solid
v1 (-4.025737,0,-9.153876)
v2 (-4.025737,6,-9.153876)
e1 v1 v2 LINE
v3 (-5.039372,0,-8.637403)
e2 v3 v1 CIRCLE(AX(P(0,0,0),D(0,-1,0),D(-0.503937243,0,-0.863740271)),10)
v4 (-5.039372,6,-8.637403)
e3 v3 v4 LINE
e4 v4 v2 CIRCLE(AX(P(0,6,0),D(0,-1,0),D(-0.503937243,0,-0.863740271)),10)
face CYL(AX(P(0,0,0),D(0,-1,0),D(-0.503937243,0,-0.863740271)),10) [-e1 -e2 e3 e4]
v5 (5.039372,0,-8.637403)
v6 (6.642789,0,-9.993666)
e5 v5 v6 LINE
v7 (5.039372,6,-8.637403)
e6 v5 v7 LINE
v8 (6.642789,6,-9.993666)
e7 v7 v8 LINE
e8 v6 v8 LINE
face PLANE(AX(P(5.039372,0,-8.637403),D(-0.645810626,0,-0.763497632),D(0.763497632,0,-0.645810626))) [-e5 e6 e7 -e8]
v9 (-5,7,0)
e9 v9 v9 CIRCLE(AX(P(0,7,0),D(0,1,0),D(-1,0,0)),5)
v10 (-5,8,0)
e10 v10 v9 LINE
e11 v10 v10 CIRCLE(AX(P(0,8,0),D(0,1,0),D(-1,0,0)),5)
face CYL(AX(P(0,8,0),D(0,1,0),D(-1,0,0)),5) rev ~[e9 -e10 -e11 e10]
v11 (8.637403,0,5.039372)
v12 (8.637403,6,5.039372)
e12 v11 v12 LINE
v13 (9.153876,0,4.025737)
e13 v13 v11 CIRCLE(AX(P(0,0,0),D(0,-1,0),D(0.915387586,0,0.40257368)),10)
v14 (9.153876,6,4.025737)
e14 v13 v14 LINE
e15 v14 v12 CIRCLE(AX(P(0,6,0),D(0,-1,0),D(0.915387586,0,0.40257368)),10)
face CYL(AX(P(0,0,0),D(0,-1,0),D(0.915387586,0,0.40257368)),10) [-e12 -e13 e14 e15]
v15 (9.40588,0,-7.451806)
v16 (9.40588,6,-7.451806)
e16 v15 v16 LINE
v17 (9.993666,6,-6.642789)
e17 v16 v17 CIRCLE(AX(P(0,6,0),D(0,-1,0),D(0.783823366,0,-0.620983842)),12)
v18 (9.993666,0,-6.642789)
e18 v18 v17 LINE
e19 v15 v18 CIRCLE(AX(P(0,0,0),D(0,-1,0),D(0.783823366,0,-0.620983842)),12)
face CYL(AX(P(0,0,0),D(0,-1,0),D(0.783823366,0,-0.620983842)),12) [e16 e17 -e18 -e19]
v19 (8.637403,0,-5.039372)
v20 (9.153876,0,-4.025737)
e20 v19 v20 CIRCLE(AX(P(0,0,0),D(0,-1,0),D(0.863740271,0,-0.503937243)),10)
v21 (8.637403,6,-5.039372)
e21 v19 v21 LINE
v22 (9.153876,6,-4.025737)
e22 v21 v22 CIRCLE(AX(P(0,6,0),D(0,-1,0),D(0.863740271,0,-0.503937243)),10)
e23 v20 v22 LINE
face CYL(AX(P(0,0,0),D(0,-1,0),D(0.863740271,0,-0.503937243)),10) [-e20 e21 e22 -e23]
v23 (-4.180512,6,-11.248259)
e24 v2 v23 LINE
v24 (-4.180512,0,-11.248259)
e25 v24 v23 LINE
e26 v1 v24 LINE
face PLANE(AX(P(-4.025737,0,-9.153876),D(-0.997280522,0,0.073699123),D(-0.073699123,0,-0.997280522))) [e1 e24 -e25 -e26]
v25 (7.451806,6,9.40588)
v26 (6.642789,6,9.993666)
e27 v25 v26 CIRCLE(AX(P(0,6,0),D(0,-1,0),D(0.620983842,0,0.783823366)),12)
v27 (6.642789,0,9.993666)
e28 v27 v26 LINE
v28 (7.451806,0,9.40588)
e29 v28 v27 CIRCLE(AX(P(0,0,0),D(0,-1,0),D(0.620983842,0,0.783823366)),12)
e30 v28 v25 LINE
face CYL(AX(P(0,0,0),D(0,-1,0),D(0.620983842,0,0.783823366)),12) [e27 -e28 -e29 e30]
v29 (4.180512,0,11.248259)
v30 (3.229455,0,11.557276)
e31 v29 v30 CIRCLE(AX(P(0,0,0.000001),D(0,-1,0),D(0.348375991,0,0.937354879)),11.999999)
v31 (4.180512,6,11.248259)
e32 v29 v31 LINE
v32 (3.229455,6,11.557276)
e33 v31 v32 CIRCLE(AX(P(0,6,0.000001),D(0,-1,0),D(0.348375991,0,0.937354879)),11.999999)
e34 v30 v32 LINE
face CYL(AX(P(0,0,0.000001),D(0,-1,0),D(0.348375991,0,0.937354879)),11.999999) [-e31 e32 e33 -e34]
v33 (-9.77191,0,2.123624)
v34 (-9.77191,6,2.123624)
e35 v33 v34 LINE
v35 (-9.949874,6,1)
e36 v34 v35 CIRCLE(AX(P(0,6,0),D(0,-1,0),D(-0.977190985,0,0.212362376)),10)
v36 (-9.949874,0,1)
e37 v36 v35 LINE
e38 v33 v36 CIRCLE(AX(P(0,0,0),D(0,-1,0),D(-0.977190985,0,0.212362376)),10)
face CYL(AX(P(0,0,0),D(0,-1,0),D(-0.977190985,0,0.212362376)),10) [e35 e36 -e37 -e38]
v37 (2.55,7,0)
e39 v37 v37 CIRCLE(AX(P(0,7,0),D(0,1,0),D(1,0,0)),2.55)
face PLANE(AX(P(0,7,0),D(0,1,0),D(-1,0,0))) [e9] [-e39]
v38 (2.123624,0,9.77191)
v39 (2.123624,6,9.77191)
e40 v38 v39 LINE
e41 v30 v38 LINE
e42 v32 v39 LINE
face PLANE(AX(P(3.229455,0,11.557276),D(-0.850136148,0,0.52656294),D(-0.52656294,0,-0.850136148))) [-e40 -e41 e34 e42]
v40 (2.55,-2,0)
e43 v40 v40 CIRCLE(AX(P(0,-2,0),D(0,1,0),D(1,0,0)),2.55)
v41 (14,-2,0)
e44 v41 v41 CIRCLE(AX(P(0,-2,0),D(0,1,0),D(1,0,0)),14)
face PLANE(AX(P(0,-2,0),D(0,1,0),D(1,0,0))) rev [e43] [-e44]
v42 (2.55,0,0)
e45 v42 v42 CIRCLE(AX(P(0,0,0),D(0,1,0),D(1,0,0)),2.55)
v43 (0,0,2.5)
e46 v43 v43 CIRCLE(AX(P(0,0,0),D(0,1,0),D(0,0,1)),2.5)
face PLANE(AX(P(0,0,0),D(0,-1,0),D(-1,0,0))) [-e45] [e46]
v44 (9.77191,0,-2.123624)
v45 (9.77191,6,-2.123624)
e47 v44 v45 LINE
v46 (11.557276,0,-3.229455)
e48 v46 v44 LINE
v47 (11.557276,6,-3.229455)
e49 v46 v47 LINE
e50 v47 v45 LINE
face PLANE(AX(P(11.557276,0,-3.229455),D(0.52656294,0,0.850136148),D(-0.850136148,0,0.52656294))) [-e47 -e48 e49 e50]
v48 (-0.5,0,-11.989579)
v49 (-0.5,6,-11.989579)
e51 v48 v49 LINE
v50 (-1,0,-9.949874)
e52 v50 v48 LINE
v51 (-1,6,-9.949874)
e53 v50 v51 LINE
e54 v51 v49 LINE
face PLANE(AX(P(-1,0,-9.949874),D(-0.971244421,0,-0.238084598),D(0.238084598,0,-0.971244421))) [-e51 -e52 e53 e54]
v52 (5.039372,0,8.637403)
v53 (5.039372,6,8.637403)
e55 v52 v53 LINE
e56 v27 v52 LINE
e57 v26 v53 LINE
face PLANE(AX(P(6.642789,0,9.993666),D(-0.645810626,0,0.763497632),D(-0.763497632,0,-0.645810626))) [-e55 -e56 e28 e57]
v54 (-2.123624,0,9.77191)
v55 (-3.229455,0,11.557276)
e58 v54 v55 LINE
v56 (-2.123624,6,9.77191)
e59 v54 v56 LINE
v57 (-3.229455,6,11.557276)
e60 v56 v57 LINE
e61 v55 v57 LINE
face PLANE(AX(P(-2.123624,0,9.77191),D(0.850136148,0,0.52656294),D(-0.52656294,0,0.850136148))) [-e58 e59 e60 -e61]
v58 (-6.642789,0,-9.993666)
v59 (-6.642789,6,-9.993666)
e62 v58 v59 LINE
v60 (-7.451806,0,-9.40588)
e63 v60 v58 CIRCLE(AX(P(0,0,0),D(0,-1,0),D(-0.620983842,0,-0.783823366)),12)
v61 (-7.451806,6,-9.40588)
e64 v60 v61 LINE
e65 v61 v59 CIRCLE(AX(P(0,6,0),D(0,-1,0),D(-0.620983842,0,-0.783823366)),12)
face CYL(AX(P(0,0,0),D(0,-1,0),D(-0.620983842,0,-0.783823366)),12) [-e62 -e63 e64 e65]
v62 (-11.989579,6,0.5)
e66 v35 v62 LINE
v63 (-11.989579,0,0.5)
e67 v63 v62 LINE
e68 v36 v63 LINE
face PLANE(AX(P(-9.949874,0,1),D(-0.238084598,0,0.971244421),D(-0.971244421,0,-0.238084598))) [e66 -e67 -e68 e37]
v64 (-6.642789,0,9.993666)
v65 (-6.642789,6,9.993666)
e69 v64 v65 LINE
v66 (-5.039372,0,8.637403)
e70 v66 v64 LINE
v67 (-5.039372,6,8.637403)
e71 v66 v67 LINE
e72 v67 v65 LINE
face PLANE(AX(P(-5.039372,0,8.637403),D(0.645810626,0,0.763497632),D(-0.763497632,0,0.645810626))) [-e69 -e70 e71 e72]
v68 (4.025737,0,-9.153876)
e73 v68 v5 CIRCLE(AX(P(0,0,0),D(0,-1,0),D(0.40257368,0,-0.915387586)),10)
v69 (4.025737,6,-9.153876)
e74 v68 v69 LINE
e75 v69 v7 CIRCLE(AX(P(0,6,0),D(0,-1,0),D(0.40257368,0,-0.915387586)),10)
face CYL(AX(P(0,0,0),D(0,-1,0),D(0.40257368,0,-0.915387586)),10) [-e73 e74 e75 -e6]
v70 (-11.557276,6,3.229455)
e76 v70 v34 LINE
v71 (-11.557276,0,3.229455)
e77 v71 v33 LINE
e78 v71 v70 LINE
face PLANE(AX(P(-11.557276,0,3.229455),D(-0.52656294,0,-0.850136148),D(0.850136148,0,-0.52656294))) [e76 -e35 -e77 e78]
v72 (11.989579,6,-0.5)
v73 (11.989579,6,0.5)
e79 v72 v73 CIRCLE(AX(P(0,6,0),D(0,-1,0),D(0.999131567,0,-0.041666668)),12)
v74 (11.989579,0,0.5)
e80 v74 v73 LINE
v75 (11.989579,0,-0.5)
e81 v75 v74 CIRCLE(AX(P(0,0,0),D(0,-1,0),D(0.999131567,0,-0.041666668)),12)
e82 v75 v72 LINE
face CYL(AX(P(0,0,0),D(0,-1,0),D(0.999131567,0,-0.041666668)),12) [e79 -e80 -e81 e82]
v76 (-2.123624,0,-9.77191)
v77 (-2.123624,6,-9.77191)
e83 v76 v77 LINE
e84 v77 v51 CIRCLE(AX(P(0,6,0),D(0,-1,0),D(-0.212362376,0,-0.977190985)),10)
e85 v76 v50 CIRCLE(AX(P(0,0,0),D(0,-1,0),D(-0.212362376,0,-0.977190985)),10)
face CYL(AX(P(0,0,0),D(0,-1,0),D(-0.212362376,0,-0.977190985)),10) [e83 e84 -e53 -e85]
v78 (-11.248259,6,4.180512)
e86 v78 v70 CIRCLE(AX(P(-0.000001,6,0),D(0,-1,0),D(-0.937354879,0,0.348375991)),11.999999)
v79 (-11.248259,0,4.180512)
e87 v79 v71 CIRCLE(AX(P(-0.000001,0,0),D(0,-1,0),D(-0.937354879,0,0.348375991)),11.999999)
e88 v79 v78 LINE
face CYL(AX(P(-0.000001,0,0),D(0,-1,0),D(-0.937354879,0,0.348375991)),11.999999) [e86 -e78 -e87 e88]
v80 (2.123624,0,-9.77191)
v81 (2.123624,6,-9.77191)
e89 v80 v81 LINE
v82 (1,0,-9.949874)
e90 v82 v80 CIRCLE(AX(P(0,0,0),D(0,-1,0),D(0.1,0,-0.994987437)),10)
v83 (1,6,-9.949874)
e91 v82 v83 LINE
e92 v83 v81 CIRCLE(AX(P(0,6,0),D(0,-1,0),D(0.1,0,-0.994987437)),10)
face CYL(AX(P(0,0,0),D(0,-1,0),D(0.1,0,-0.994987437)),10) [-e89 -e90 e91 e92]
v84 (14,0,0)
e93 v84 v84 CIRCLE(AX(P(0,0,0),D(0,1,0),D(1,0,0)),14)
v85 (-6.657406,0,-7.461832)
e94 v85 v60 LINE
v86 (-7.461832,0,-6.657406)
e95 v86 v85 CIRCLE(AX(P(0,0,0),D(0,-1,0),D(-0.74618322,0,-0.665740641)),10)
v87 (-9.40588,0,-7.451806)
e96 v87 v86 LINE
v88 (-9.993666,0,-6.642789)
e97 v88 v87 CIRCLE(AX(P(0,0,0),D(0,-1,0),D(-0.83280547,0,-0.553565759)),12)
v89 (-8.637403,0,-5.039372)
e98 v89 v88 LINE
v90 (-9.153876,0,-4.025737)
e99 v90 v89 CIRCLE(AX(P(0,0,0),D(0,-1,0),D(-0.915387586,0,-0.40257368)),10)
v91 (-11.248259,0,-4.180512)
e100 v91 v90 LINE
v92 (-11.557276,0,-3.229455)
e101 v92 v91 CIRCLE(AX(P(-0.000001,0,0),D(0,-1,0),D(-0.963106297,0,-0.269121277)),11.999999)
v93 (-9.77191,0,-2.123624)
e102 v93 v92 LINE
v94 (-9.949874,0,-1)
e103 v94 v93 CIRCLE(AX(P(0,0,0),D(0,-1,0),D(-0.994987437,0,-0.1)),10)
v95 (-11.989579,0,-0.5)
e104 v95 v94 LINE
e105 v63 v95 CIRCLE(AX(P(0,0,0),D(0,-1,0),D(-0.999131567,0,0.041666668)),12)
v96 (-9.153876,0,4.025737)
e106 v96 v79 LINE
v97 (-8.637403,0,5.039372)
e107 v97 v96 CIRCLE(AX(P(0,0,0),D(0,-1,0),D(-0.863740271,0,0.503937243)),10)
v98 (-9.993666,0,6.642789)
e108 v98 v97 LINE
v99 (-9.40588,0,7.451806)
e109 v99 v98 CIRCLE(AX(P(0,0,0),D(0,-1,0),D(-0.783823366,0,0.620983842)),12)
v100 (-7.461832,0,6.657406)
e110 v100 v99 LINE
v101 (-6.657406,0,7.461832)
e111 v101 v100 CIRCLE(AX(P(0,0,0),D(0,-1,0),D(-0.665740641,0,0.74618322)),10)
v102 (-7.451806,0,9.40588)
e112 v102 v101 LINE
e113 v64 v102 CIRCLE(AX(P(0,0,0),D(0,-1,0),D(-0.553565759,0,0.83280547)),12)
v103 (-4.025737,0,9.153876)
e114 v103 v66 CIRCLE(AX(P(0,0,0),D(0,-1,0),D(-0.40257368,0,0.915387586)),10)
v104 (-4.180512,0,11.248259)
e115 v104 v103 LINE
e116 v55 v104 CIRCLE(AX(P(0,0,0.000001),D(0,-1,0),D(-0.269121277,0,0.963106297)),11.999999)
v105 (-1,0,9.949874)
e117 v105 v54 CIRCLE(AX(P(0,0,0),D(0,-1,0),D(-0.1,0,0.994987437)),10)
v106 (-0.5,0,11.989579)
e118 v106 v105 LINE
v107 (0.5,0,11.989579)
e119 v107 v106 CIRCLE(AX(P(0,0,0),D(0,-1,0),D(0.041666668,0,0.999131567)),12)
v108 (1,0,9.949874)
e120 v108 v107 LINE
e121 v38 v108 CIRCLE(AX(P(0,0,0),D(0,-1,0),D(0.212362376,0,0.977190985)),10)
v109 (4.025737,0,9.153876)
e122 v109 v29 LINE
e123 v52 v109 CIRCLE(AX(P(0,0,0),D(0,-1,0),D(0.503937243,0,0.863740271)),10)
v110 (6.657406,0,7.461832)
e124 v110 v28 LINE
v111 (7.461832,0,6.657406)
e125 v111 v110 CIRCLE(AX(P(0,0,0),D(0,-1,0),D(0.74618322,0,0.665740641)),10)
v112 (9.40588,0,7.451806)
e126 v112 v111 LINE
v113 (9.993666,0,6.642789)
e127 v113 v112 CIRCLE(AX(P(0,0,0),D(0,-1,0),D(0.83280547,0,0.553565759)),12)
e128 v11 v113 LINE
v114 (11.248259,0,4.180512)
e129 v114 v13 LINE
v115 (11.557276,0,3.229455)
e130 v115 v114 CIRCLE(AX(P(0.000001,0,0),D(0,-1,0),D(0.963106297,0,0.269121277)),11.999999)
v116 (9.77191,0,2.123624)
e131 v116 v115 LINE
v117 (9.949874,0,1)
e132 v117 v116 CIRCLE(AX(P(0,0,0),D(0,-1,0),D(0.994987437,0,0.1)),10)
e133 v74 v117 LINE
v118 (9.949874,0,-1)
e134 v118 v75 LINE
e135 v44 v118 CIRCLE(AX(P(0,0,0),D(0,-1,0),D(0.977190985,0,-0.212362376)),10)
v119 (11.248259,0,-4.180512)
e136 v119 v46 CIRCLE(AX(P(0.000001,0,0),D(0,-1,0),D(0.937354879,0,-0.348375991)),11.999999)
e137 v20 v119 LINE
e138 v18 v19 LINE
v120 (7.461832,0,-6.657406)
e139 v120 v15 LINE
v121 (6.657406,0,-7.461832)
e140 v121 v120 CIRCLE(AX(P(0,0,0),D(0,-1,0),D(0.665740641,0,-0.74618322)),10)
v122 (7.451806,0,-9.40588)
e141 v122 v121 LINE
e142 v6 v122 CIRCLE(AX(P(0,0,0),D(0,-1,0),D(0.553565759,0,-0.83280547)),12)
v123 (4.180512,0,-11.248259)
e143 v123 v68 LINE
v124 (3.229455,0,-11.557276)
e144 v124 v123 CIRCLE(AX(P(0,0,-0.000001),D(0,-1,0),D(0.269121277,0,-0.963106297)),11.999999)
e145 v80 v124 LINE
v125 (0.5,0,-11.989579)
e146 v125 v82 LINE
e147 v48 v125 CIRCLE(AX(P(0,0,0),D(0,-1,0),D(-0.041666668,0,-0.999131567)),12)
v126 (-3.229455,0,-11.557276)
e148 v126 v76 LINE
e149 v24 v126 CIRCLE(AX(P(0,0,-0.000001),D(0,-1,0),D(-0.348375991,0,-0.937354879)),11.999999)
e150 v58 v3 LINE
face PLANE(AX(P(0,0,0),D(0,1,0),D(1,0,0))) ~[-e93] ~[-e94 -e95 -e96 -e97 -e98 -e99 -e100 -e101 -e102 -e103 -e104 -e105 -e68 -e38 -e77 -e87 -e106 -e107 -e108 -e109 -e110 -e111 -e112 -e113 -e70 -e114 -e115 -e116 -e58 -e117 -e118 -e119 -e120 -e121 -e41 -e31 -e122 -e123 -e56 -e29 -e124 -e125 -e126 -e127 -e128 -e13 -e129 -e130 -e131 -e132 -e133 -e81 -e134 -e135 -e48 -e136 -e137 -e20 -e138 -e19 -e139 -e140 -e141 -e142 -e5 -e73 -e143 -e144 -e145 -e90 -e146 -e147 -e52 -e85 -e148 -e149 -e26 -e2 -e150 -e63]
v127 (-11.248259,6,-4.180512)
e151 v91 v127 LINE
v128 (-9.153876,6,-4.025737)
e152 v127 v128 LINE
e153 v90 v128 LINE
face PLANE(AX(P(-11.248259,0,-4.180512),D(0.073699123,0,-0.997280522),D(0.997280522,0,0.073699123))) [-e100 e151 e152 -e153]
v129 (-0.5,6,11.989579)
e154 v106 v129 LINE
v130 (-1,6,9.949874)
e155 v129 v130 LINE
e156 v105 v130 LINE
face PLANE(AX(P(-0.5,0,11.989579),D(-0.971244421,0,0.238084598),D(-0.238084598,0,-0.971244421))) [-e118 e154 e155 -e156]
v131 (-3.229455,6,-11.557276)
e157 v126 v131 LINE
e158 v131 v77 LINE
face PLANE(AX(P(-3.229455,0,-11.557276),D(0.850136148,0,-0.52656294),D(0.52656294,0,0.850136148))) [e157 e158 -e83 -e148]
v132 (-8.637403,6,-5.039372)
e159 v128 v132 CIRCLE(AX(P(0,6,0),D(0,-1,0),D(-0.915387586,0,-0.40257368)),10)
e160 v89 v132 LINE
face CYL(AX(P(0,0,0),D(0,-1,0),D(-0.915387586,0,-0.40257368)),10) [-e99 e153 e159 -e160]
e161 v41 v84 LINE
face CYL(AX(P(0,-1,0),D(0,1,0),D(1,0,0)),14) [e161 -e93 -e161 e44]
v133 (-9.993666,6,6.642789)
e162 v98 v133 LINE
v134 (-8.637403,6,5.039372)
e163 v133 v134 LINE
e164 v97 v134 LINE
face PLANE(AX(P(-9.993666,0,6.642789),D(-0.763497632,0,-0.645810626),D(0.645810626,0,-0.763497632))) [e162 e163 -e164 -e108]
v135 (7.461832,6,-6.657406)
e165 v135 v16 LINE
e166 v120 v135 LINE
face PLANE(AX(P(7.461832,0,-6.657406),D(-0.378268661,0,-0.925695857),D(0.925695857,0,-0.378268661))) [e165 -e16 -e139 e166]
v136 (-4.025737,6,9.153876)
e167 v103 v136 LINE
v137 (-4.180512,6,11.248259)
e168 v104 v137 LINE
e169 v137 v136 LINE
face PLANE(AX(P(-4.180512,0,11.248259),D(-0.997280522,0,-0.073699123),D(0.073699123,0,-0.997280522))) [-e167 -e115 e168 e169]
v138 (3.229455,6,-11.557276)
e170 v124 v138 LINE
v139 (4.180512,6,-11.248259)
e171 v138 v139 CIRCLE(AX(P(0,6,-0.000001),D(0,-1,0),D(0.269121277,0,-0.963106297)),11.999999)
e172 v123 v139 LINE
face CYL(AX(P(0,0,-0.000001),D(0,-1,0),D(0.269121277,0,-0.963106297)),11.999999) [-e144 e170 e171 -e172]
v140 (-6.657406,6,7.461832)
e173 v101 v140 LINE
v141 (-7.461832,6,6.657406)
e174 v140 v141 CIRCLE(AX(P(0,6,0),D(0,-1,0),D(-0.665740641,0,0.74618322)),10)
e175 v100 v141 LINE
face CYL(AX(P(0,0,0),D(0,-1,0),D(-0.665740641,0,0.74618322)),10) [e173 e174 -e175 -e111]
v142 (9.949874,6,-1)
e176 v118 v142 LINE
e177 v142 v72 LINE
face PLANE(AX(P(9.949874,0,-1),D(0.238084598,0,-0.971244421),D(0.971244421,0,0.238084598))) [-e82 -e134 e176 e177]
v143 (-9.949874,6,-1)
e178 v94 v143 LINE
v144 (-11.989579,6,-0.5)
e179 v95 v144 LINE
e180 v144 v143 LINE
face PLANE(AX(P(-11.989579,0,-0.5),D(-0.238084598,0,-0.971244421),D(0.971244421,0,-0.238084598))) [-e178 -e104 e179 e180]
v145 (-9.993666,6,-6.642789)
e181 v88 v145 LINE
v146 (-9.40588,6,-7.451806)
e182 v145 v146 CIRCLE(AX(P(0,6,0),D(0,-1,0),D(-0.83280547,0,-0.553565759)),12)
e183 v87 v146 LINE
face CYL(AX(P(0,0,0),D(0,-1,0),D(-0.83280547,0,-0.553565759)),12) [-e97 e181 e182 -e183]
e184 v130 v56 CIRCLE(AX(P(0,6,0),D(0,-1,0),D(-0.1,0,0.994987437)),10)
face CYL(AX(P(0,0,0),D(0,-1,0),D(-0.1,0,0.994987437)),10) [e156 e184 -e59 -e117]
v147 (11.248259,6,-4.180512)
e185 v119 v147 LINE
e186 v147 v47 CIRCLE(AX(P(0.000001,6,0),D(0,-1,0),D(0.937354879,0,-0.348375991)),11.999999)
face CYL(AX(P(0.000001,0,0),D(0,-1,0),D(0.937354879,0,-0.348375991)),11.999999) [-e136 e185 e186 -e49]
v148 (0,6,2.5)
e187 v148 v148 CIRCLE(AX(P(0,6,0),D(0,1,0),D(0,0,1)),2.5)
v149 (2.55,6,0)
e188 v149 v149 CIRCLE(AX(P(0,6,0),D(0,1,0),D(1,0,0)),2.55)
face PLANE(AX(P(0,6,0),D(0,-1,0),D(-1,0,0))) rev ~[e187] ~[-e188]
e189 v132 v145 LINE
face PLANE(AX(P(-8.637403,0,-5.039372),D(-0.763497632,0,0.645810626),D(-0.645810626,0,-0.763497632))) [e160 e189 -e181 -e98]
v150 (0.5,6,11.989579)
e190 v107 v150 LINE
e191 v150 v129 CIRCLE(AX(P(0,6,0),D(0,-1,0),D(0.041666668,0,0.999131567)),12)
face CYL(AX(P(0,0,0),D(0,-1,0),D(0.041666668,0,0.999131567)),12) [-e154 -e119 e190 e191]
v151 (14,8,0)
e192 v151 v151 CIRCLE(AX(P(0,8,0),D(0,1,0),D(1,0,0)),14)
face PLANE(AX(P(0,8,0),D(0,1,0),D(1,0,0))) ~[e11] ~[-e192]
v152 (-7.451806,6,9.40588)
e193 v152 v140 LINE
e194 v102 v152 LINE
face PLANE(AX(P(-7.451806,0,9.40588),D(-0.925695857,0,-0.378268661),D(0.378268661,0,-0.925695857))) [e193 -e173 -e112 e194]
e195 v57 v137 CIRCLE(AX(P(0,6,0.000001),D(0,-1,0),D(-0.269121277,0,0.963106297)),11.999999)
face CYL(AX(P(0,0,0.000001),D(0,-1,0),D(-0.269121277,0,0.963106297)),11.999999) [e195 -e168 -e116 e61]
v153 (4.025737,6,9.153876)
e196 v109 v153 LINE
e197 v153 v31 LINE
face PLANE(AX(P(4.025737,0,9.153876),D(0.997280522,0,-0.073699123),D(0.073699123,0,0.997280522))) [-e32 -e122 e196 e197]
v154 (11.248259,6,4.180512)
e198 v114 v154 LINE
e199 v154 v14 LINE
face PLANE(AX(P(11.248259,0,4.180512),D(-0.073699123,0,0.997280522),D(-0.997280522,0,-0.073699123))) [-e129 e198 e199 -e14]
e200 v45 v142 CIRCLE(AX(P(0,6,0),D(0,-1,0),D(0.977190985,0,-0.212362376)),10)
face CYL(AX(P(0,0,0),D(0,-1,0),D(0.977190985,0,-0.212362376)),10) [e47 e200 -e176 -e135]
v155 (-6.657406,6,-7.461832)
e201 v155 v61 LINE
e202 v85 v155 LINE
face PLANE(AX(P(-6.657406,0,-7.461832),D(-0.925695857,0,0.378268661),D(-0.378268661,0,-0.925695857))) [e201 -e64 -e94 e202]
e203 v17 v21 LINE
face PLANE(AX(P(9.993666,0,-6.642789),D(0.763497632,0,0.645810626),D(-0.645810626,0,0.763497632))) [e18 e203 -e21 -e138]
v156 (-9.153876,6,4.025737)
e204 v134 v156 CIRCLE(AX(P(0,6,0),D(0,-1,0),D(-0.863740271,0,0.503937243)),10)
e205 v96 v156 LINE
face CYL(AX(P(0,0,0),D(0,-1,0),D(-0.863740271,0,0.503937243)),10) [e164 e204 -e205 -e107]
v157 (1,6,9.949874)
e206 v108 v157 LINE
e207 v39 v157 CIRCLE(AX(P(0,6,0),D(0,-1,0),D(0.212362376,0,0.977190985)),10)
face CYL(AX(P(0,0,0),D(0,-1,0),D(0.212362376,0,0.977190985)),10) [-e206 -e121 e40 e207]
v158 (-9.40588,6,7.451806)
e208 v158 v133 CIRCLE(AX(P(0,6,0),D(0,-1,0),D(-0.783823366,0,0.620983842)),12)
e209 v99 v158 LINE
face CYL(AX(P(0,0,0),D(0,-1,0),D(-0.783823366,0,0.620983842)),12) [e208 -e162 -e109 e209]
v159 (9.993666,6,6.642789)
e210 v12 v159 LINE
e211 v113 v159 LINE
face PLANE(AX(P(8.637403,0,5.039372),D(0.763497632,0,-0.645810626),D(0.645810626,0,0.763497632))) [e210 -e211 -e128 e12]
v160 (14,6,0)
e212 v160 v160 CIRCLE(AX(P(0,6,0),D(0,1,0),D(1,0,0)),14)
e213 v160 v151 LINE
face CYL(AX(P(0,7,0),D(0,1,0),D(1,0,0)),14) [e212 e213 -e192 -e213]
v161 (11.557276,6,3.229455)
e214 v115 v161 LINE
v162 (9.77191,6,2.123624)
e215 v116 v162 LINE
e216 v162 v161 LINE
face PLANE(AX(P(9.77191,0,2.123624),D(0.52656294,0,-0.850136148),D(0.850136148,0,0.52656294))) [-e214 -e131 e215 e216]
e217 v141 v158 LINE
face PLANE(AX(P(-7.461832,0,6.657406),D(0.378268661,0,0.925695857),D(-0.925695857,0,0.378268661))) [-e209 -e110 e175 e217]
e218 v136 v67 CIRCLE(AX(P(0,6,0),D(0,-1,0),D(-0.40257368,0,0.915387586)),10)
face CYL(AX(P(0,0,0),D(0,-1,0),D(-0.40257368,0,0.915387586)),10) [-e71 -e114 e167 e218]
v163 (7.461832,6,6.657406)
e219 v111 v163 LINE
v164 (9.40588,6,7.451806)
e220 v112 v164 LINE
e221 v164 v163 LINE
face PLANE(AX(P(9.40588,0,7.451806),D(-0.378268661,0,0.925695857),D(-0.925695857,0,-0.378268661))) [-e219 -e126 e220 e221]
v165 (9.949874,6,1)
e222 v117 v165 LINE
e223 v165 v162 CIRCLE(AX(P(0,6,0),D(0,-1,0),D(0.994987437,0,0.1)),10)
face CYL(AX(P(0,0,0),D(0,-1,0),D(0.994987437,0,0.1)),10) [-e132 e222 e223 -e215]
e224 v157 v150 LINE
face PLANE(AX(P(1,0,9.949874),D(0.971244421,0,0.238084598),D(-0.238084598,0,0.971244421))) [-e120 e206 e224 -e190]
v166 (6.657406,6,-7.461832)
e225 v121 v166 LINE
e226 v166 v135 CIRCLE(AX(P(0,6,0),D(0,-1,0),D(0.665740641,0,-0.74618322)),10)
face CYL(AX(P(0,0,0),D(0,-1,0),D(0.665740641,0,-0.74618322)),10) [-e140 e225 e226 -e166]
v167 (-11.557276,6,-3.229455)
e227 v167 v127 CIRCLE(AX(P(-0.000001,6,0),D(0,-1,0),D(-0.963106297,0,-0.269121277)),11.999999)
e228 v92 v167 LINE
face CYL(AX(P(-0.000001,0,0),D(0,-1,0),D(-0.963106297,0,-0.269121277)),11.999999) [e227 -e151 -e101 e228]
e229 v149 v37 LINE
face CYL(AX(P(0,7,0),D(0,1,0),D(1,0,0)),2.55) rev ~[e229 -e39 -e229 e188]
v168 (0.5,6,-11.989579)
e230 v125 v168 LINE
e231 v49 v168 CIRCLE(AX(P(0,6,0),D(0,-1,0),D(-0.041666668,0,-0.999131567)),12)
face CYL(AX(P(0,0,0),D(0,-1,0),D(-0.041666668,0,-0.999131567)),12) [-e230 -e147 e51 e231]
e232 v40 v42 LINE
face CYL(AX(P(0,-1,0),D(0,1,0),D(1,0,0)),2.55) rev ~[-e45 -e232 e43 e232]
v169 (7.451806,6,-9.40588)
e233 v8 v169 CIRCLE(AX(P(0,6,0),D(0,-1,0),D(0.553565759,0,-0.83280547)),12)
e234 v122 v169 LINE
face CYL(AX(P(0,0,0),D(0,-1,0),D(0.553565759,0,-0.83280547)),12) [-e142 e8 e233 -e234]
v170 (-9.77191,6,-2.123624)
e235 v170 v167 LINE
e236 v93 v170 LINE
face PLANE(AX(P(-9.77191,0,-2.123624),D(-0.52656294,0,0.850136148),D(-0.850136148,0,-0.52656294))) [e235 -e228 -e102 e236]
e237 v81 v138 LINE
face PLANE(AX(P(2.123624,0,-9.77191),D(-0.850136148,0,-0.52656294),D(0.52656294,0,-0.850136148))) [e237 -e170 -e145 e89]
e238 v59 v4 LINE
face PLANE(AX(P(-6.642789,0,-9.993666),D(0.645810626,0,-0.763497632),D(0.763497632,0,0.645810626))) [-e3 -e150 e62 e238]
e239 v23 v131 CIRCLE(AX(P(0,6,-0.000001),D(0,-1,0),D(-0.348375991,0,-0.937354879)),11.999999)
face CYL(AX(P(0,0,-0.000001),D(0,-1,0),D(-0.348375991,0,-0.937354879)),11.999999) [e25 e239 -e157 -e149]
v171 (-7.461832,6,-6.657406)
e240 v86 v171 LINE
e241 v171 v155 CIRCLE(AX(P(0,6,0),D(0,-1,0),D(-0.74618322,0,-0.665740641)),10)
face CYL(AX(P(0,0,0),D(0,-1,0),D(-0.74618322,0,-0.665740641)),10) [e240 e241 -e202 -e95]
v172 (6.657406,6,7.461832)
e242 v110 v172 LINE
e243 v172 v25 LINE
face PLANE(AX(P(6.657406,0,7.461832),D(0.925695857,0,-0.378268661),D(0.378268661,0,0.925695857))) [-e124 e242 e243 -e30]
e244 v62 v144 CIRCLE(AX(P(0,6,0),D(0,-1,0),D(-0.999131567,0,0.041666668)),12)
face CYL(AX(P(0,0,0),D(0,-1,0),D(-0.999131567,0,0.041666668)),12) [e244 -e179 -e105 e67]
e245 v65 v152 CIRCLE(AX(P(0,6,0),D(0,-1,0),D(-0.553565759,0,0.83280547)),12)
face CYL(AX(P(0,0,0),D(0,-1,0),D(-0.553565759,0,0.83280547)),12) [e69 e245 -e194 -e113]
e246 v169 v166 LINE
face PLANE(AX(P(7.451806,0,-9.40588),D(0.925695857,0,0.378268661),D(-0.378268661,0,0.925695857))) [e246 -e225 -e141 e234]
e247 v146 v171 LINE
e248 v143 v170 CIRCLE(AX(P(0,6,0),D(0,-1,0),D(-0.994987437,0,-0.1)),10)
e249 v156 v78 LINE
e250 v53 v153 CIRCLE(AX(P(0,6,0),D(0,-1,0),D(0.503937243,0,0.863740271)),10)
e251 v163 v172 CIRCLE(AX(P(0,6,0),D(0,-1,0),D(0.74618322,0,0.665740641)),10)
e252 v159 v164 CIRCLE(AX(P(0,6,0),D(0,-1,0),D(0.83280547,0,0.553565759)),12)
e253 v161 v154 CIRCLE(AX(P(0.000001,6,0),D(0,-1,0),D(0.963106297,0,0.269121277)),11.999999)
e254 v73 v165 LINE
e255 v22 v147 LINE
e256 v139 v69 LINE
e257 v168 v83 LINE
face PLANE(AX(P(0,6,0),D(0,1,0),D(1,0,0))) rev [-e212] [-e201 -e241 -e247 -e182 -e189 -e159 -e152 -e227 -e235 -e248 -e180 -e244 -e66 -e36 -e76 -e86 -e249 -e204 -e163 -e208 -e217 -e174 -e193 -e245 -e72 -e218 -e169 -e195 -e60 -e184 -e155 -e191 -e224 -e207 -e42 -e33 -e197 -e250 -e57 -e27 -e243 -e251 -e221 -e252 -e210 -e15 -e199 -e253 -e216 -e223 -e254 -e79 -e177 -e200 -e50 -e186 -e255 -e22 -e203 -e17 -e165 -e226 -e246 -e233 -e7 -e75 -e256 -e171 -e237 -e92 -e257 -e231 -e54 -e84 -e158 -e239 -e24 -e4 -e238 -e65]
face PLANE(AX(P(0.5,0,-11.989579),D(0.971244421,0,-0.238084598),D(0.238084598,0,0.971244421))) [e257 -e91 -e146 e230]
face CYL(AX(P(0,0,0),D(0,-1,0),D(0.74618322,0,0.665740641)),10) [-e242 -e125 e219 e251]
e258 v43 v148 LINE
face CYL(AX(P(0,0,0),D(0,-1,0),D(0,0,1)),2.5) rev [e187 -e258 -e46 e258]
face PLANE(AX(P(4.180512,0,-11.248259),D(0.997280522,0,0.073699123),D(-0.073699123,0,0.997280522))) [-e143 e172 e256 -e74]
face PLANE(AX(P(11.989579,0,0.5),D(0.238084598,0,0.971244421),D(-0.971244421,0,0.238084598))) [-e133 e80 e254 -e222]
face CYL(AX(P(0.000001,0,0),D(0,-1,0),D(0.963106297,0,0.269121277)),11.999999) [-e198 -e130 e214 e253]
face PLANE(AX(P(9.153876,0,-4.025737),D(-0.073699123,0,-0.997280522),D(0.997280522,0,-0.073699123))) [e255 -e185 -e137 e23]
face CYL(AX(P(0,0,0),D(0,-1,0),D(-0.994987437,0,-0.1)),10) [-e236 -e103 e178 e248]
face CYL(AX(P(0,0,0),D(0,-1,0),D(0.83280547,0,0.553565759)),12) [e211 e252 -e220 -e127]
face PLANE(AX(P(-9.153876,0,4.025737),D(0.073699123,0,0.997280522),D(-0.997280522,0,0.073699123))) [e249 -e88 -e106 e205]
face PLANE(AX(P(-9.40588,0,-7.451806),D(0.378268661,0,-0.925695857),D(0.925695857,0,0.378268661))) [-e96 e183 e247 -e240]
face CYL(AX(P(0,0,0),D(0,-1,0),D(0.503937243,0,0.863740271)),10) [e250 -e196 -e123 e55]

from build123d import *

# Parameters (mm, degrees)
SKETCH1_R           = 2.5
BOSS_EXTRUDE1_DEPTH = 6
SKETCH2_W           = 11.45
SKETCH2_H           = 2
SKETCH3_R           = 5
CUT_EXTRUDE1_DEPTH  = 1


with BuildPart() as part:
    # Sketch1 → Boss-Extrude1 (new body)
    with BuildSketch(Plane(origin=(0, 0, 0), x_dir=(1, 0, 0), z_dir=(0, 1, 0))):
        with BuildLine():
            Line((0.5, 11.989578808), (1, 9.949874371))
            ThreePointArc((1, 9.949874371), (1.56434465, 9.876883406), (2.123623756, 9.771909851))
            Line((2.123623756, 9.771909851), (3.229455349, 11.55727555))
            ThreePointArc((3.229455349, 11.55727555), (3.708203932, 11.412678196), (4.180511865, 11.248258556))
            Line((4.180511865, 11.248258556), (4.025736789, 9.153875863))
            ThreePointArc((4.025736789, 9.153875863), (4.539904997, 8.910065242), (5.039372423, 8.63740271))
            Line((5.039372423, 8.63740271), (6.642789108, 9.993665637))
            ThreePointArc((6.642789108, 9.993665637), (7.053423028, 9.708203932), (7.451806102, 9.405880385))
            Line((7.451806102, 9.405880385), (6.657406412, 7.461832206))
            ThreePointArc((6.657406412, 7.461832206), (7.071067812, 7.071067812), (7.461832206, 6.657406412))
            Line((7.461832206, 6.657406412), (9.405880385, 7.451806102))
            ThreePointArc((9.405880385, 7.451806102), (9.708203932, 7.053423028), (9.993665637, 6.642789108))
            Line((9.993665637, 6.642789108), (8.63740271, 5.039372423))
            ThreePointArc((8.63740271, 5.039372423), (8.910065242, 4.539904997), (9.153875863, 4.025736789))
            Line((9.153875863, 4.025736789), (11.248258556, 4.180511865))
            ThreePointArc((11.248258556, 4.180511865), (11.412678196, 3.708203932), (11.55727555, 3.229455349))
            Line((11.55727555, 3.229455349), (9.771909851, 2.123623756))
            ThreePointArc((9.771909851, 2.123623756), (9.876883406, 1.56434465), (9.949874371, 1))
            Line((9.949874371, 1), (11.989578808, 0.5))
            ThreePointArc((11.989578808, 0.5), (12, 0), (11.989578808, -0.5))
            Line((11.989578808, -0.5), (9.949874371, -1))
            ThreePointArc((9.949874371, -1), (9.876883406, -1.56434465), (9.771909851, -2.123623756))
            Line((9.771909851, -2.123623756), (11.55727555, -3.229455349))
            ThreePointArc((11.55727555, -3.229455349), (11.412678196, -3.708203932), (11.248258556, -4.180511865))
            Line((11.248258556, -4.180511865), (9.153875863, -4.025736789))
            ThreePointArc((9.153875863, -4.025736789), (8.910065242, -4.539904997), (8.63740271, -5.039372423))
            Line((8.63740271, -5.039372423), (9.993665637, -6.642789108))
            ThreePointArc((9.993665637, -6.642789108), (9.708203932, -7.053423028), (9.405880385, -7.451806102))
            Line((9.405880385, -7.451806102), (7.461832206, -6.657406412))
            ThreePointArc((7.461832206, -6.657406412), (7.071067812, -7.071067812), (6.657406412, -7.461832206))
            Line((6.657406412, -7.461832206), (7.451806102, -9.405880385))
            ThreePointArc((7.451806102, -9.405880385), (7.053423028, -9.708203932), (6.642789108, -9.993665637))
            Line((6.642789108, -9.993665637), (5.039372423, -8.63740271))
            ThreePointArc((5.039372423, -8.63740271), (4.539904997, -8.910065242), (4.025736789, -9.153875863))
            Line((4.025736789, -9.153875863), (4.180511865, -11.248258556))
            ThreePointArc((4.180511865, -11.248258556), (3.708203932, -11.412678196), (3.229455349, -11.55727555))
            Line((3.229455349, -11.55727555), (2.123623756, -9.771909851))
            ThreePointArc((2.123623756, -9.771909851), (1.56434465, -9.876883406), (1, -9.949874371))
            Line((1, -9.949874371), (0.5, -11.989578808))
            ThreePointArc((0.5, -11.989578808), (0, -12), (-0.5, -11.989578808))
            Line((-0.5, -11.989578808), (-1, -9.949874371))
            ThreePointArc((-1, -9.949874371), (-1.56434465, -9.876883406), (-2.123623756, -9.771909851))
            Line((-2.123623756, -9.771909851), (-3.229455349, -11.55727555))
            ThreePointArc((-3.229455349, -11.55727555), (-3.708203932, -11.412678196), (-4.180511865, -11.248258556))
            Line((-4.180511865, -11.248258556), (-4.025736789, -9.153875863))
            ThreePointArc((-4.025736789, -9.153875863), (-4.539904997, -8.910065242), (-5.039372423, -8.63740271))
            Line((-5.039372423, -8.63740271), (-6.642789108, -9.993665637))
            ThreePointArc((-6.642789108, -9.993665637), (-7.053423028, -9.708203932), (-7.451806102, -9.405880385))
            Line((-7.451806102, -9.405880385), (-6.657406412, -7.461832206))
            ThreePointArc((-6.657406412, -7.461832206), (-7.071067812, -7.071067812), (-7.461832206, -6.657406412))
            Line((-7.461832206, -6.657406412), (-9.405880385, -7.451806102))
            ThreePointArc((-9.405880385, -7.451806102), (-9.708203932, -7.053423028), (-9.993665637, -6.642789108))
            Line((-9.993665637, -6.642789108), (-8.63740271, -5.039372423))
            ThreePointArc((-8.63740271, -5.039372423), (-8.910065242, -4.539904997), (-9.153875863, -4.025736789))
            Line((-9.153875863, -4.025736789), (-11.248258556, -4.180511865))
            ThreePointArc((-11.248258556, -4.180511865), (-11.412678196, -3.708203932), (-11.55727555, -3.229455349))
            Line((-11.55727555, -3.229455349), (-9.771909851, -2.123623756))
            ThreePointArc((-9.771909851, -2.123623756), (-9.876883406, -1.56434465), (-9.949874371, -1))
            Line((-9.949874371, -1), (-11.989578808, -0.5))
            ThreePointArc((-11.989578808, -0.5), (-12, 0), (-11.989578808, 0.5))
            Line((-11.989578808, 0.5), (-9.949874371, 1))
            ThreePointArc((-9.949874371, 1), (-9.876883406, 1.56434465), (-9.771909851, 2.123623756))
            Line((-9.771909851, 2.123623756), (-11.55727555, 3.229455349))
            ThreePointArc((-11.55727555, 3.229455349), (-11.412678196, 3.708203932), (-11.248258556, 4.180511865))
            Line((-11.248258556, 4.180511865), (-9.153875863, 4.025736789))
            ThreePointArc((-9.153875863, 4.025736789), (-8.910065242, 4.539904997), (-8.63740271, 5.039372423))
            Line((-8.63740271, 5.039372423), (-9.993665637, 6.642789108))
            ThreePointArc((-9.993665637, 6.642789108), (-9.708203932, 7.053423028), (-9.405880385, 7.451806102))
            Line((-9.405880385, 7.451806102), (-7.461832206, 6.657406412))
            ThreePointArc((-7.461832206, 6.657406412), (-7.071067812, 7.071067812), (-6.657406412, 7.461832206))
            Line((-6.657406412, 7.461832206), (-7.451806102, 9.405880385))
            ThreePointArc((-7.451806102, 9.405880385), (-7.053423028, 9.708203932), (-6.642789108, 9.993665637))
            Line((-6.642789108, 9.993665637), (-5.039372423, 8.63740271))
            ThreePointArc((-5.039372423, 8.63740271), (-4.539904997, 8.910065242), (-4.025736789, 9.153875863))
            Line((-4.025736789, 9.153875863), (-4.180511865, 11.248258556))
            ThreePointArc((-4.180511865, 11.248258556), (-3.708203932, 11.412678196), (-3.229455349, 11.55727555))
            Line((-3.229455349, 11.55727555), (-2.123623756, 9.771909851))
            ThreePointArc((-2.123623756, 9.771909851), (-1.56434465, 9.876883406), (-1, 9.949874371))
            Line((-1, 9.949874371), (-0.5, 11.989578808))
            ThreePointArc((-0.5, 11.989578808), (0, 12), (0.5, 11.989578808))
        make_face()
        with Locations(Location((0, 0, 0), (0, 0, 270))):
            Circle(SKETCH1_R, mode=Mode.SUBTRACT)
    extrude(amount=BOSS_EXTRUDE1_DEPTH)

    # Sketch2 → Revolve1 (revolve)
    with BuildSketch(Plane.XY):
        with Locations((8.275, -1)):
            Rectangle(SKETCH2_W, SKETCH2_H)
        with Locations((8.275, 7)):
            Rectangle(SKETCH2_W, SKETCH2_H)
    revolve(axis=Axis((0, -1000, 0), (0, 1, 0)))

    # Sketch3 → Cut-Extrude1 (cut)
    with BuildSketch(Plane(origin=(0, 8, 0), x_dir=(1, 0, 0), z_dir=(0, 1, 0))):
        with Locations(Location((0, 0, 0), (0, 0, 180))):
            Circle(SKETCH3_R)
    extrude(amount=-CUT_EXTRUDE1_DEPTH, mode=Mode.SUBTRACT)


solid = part.part
